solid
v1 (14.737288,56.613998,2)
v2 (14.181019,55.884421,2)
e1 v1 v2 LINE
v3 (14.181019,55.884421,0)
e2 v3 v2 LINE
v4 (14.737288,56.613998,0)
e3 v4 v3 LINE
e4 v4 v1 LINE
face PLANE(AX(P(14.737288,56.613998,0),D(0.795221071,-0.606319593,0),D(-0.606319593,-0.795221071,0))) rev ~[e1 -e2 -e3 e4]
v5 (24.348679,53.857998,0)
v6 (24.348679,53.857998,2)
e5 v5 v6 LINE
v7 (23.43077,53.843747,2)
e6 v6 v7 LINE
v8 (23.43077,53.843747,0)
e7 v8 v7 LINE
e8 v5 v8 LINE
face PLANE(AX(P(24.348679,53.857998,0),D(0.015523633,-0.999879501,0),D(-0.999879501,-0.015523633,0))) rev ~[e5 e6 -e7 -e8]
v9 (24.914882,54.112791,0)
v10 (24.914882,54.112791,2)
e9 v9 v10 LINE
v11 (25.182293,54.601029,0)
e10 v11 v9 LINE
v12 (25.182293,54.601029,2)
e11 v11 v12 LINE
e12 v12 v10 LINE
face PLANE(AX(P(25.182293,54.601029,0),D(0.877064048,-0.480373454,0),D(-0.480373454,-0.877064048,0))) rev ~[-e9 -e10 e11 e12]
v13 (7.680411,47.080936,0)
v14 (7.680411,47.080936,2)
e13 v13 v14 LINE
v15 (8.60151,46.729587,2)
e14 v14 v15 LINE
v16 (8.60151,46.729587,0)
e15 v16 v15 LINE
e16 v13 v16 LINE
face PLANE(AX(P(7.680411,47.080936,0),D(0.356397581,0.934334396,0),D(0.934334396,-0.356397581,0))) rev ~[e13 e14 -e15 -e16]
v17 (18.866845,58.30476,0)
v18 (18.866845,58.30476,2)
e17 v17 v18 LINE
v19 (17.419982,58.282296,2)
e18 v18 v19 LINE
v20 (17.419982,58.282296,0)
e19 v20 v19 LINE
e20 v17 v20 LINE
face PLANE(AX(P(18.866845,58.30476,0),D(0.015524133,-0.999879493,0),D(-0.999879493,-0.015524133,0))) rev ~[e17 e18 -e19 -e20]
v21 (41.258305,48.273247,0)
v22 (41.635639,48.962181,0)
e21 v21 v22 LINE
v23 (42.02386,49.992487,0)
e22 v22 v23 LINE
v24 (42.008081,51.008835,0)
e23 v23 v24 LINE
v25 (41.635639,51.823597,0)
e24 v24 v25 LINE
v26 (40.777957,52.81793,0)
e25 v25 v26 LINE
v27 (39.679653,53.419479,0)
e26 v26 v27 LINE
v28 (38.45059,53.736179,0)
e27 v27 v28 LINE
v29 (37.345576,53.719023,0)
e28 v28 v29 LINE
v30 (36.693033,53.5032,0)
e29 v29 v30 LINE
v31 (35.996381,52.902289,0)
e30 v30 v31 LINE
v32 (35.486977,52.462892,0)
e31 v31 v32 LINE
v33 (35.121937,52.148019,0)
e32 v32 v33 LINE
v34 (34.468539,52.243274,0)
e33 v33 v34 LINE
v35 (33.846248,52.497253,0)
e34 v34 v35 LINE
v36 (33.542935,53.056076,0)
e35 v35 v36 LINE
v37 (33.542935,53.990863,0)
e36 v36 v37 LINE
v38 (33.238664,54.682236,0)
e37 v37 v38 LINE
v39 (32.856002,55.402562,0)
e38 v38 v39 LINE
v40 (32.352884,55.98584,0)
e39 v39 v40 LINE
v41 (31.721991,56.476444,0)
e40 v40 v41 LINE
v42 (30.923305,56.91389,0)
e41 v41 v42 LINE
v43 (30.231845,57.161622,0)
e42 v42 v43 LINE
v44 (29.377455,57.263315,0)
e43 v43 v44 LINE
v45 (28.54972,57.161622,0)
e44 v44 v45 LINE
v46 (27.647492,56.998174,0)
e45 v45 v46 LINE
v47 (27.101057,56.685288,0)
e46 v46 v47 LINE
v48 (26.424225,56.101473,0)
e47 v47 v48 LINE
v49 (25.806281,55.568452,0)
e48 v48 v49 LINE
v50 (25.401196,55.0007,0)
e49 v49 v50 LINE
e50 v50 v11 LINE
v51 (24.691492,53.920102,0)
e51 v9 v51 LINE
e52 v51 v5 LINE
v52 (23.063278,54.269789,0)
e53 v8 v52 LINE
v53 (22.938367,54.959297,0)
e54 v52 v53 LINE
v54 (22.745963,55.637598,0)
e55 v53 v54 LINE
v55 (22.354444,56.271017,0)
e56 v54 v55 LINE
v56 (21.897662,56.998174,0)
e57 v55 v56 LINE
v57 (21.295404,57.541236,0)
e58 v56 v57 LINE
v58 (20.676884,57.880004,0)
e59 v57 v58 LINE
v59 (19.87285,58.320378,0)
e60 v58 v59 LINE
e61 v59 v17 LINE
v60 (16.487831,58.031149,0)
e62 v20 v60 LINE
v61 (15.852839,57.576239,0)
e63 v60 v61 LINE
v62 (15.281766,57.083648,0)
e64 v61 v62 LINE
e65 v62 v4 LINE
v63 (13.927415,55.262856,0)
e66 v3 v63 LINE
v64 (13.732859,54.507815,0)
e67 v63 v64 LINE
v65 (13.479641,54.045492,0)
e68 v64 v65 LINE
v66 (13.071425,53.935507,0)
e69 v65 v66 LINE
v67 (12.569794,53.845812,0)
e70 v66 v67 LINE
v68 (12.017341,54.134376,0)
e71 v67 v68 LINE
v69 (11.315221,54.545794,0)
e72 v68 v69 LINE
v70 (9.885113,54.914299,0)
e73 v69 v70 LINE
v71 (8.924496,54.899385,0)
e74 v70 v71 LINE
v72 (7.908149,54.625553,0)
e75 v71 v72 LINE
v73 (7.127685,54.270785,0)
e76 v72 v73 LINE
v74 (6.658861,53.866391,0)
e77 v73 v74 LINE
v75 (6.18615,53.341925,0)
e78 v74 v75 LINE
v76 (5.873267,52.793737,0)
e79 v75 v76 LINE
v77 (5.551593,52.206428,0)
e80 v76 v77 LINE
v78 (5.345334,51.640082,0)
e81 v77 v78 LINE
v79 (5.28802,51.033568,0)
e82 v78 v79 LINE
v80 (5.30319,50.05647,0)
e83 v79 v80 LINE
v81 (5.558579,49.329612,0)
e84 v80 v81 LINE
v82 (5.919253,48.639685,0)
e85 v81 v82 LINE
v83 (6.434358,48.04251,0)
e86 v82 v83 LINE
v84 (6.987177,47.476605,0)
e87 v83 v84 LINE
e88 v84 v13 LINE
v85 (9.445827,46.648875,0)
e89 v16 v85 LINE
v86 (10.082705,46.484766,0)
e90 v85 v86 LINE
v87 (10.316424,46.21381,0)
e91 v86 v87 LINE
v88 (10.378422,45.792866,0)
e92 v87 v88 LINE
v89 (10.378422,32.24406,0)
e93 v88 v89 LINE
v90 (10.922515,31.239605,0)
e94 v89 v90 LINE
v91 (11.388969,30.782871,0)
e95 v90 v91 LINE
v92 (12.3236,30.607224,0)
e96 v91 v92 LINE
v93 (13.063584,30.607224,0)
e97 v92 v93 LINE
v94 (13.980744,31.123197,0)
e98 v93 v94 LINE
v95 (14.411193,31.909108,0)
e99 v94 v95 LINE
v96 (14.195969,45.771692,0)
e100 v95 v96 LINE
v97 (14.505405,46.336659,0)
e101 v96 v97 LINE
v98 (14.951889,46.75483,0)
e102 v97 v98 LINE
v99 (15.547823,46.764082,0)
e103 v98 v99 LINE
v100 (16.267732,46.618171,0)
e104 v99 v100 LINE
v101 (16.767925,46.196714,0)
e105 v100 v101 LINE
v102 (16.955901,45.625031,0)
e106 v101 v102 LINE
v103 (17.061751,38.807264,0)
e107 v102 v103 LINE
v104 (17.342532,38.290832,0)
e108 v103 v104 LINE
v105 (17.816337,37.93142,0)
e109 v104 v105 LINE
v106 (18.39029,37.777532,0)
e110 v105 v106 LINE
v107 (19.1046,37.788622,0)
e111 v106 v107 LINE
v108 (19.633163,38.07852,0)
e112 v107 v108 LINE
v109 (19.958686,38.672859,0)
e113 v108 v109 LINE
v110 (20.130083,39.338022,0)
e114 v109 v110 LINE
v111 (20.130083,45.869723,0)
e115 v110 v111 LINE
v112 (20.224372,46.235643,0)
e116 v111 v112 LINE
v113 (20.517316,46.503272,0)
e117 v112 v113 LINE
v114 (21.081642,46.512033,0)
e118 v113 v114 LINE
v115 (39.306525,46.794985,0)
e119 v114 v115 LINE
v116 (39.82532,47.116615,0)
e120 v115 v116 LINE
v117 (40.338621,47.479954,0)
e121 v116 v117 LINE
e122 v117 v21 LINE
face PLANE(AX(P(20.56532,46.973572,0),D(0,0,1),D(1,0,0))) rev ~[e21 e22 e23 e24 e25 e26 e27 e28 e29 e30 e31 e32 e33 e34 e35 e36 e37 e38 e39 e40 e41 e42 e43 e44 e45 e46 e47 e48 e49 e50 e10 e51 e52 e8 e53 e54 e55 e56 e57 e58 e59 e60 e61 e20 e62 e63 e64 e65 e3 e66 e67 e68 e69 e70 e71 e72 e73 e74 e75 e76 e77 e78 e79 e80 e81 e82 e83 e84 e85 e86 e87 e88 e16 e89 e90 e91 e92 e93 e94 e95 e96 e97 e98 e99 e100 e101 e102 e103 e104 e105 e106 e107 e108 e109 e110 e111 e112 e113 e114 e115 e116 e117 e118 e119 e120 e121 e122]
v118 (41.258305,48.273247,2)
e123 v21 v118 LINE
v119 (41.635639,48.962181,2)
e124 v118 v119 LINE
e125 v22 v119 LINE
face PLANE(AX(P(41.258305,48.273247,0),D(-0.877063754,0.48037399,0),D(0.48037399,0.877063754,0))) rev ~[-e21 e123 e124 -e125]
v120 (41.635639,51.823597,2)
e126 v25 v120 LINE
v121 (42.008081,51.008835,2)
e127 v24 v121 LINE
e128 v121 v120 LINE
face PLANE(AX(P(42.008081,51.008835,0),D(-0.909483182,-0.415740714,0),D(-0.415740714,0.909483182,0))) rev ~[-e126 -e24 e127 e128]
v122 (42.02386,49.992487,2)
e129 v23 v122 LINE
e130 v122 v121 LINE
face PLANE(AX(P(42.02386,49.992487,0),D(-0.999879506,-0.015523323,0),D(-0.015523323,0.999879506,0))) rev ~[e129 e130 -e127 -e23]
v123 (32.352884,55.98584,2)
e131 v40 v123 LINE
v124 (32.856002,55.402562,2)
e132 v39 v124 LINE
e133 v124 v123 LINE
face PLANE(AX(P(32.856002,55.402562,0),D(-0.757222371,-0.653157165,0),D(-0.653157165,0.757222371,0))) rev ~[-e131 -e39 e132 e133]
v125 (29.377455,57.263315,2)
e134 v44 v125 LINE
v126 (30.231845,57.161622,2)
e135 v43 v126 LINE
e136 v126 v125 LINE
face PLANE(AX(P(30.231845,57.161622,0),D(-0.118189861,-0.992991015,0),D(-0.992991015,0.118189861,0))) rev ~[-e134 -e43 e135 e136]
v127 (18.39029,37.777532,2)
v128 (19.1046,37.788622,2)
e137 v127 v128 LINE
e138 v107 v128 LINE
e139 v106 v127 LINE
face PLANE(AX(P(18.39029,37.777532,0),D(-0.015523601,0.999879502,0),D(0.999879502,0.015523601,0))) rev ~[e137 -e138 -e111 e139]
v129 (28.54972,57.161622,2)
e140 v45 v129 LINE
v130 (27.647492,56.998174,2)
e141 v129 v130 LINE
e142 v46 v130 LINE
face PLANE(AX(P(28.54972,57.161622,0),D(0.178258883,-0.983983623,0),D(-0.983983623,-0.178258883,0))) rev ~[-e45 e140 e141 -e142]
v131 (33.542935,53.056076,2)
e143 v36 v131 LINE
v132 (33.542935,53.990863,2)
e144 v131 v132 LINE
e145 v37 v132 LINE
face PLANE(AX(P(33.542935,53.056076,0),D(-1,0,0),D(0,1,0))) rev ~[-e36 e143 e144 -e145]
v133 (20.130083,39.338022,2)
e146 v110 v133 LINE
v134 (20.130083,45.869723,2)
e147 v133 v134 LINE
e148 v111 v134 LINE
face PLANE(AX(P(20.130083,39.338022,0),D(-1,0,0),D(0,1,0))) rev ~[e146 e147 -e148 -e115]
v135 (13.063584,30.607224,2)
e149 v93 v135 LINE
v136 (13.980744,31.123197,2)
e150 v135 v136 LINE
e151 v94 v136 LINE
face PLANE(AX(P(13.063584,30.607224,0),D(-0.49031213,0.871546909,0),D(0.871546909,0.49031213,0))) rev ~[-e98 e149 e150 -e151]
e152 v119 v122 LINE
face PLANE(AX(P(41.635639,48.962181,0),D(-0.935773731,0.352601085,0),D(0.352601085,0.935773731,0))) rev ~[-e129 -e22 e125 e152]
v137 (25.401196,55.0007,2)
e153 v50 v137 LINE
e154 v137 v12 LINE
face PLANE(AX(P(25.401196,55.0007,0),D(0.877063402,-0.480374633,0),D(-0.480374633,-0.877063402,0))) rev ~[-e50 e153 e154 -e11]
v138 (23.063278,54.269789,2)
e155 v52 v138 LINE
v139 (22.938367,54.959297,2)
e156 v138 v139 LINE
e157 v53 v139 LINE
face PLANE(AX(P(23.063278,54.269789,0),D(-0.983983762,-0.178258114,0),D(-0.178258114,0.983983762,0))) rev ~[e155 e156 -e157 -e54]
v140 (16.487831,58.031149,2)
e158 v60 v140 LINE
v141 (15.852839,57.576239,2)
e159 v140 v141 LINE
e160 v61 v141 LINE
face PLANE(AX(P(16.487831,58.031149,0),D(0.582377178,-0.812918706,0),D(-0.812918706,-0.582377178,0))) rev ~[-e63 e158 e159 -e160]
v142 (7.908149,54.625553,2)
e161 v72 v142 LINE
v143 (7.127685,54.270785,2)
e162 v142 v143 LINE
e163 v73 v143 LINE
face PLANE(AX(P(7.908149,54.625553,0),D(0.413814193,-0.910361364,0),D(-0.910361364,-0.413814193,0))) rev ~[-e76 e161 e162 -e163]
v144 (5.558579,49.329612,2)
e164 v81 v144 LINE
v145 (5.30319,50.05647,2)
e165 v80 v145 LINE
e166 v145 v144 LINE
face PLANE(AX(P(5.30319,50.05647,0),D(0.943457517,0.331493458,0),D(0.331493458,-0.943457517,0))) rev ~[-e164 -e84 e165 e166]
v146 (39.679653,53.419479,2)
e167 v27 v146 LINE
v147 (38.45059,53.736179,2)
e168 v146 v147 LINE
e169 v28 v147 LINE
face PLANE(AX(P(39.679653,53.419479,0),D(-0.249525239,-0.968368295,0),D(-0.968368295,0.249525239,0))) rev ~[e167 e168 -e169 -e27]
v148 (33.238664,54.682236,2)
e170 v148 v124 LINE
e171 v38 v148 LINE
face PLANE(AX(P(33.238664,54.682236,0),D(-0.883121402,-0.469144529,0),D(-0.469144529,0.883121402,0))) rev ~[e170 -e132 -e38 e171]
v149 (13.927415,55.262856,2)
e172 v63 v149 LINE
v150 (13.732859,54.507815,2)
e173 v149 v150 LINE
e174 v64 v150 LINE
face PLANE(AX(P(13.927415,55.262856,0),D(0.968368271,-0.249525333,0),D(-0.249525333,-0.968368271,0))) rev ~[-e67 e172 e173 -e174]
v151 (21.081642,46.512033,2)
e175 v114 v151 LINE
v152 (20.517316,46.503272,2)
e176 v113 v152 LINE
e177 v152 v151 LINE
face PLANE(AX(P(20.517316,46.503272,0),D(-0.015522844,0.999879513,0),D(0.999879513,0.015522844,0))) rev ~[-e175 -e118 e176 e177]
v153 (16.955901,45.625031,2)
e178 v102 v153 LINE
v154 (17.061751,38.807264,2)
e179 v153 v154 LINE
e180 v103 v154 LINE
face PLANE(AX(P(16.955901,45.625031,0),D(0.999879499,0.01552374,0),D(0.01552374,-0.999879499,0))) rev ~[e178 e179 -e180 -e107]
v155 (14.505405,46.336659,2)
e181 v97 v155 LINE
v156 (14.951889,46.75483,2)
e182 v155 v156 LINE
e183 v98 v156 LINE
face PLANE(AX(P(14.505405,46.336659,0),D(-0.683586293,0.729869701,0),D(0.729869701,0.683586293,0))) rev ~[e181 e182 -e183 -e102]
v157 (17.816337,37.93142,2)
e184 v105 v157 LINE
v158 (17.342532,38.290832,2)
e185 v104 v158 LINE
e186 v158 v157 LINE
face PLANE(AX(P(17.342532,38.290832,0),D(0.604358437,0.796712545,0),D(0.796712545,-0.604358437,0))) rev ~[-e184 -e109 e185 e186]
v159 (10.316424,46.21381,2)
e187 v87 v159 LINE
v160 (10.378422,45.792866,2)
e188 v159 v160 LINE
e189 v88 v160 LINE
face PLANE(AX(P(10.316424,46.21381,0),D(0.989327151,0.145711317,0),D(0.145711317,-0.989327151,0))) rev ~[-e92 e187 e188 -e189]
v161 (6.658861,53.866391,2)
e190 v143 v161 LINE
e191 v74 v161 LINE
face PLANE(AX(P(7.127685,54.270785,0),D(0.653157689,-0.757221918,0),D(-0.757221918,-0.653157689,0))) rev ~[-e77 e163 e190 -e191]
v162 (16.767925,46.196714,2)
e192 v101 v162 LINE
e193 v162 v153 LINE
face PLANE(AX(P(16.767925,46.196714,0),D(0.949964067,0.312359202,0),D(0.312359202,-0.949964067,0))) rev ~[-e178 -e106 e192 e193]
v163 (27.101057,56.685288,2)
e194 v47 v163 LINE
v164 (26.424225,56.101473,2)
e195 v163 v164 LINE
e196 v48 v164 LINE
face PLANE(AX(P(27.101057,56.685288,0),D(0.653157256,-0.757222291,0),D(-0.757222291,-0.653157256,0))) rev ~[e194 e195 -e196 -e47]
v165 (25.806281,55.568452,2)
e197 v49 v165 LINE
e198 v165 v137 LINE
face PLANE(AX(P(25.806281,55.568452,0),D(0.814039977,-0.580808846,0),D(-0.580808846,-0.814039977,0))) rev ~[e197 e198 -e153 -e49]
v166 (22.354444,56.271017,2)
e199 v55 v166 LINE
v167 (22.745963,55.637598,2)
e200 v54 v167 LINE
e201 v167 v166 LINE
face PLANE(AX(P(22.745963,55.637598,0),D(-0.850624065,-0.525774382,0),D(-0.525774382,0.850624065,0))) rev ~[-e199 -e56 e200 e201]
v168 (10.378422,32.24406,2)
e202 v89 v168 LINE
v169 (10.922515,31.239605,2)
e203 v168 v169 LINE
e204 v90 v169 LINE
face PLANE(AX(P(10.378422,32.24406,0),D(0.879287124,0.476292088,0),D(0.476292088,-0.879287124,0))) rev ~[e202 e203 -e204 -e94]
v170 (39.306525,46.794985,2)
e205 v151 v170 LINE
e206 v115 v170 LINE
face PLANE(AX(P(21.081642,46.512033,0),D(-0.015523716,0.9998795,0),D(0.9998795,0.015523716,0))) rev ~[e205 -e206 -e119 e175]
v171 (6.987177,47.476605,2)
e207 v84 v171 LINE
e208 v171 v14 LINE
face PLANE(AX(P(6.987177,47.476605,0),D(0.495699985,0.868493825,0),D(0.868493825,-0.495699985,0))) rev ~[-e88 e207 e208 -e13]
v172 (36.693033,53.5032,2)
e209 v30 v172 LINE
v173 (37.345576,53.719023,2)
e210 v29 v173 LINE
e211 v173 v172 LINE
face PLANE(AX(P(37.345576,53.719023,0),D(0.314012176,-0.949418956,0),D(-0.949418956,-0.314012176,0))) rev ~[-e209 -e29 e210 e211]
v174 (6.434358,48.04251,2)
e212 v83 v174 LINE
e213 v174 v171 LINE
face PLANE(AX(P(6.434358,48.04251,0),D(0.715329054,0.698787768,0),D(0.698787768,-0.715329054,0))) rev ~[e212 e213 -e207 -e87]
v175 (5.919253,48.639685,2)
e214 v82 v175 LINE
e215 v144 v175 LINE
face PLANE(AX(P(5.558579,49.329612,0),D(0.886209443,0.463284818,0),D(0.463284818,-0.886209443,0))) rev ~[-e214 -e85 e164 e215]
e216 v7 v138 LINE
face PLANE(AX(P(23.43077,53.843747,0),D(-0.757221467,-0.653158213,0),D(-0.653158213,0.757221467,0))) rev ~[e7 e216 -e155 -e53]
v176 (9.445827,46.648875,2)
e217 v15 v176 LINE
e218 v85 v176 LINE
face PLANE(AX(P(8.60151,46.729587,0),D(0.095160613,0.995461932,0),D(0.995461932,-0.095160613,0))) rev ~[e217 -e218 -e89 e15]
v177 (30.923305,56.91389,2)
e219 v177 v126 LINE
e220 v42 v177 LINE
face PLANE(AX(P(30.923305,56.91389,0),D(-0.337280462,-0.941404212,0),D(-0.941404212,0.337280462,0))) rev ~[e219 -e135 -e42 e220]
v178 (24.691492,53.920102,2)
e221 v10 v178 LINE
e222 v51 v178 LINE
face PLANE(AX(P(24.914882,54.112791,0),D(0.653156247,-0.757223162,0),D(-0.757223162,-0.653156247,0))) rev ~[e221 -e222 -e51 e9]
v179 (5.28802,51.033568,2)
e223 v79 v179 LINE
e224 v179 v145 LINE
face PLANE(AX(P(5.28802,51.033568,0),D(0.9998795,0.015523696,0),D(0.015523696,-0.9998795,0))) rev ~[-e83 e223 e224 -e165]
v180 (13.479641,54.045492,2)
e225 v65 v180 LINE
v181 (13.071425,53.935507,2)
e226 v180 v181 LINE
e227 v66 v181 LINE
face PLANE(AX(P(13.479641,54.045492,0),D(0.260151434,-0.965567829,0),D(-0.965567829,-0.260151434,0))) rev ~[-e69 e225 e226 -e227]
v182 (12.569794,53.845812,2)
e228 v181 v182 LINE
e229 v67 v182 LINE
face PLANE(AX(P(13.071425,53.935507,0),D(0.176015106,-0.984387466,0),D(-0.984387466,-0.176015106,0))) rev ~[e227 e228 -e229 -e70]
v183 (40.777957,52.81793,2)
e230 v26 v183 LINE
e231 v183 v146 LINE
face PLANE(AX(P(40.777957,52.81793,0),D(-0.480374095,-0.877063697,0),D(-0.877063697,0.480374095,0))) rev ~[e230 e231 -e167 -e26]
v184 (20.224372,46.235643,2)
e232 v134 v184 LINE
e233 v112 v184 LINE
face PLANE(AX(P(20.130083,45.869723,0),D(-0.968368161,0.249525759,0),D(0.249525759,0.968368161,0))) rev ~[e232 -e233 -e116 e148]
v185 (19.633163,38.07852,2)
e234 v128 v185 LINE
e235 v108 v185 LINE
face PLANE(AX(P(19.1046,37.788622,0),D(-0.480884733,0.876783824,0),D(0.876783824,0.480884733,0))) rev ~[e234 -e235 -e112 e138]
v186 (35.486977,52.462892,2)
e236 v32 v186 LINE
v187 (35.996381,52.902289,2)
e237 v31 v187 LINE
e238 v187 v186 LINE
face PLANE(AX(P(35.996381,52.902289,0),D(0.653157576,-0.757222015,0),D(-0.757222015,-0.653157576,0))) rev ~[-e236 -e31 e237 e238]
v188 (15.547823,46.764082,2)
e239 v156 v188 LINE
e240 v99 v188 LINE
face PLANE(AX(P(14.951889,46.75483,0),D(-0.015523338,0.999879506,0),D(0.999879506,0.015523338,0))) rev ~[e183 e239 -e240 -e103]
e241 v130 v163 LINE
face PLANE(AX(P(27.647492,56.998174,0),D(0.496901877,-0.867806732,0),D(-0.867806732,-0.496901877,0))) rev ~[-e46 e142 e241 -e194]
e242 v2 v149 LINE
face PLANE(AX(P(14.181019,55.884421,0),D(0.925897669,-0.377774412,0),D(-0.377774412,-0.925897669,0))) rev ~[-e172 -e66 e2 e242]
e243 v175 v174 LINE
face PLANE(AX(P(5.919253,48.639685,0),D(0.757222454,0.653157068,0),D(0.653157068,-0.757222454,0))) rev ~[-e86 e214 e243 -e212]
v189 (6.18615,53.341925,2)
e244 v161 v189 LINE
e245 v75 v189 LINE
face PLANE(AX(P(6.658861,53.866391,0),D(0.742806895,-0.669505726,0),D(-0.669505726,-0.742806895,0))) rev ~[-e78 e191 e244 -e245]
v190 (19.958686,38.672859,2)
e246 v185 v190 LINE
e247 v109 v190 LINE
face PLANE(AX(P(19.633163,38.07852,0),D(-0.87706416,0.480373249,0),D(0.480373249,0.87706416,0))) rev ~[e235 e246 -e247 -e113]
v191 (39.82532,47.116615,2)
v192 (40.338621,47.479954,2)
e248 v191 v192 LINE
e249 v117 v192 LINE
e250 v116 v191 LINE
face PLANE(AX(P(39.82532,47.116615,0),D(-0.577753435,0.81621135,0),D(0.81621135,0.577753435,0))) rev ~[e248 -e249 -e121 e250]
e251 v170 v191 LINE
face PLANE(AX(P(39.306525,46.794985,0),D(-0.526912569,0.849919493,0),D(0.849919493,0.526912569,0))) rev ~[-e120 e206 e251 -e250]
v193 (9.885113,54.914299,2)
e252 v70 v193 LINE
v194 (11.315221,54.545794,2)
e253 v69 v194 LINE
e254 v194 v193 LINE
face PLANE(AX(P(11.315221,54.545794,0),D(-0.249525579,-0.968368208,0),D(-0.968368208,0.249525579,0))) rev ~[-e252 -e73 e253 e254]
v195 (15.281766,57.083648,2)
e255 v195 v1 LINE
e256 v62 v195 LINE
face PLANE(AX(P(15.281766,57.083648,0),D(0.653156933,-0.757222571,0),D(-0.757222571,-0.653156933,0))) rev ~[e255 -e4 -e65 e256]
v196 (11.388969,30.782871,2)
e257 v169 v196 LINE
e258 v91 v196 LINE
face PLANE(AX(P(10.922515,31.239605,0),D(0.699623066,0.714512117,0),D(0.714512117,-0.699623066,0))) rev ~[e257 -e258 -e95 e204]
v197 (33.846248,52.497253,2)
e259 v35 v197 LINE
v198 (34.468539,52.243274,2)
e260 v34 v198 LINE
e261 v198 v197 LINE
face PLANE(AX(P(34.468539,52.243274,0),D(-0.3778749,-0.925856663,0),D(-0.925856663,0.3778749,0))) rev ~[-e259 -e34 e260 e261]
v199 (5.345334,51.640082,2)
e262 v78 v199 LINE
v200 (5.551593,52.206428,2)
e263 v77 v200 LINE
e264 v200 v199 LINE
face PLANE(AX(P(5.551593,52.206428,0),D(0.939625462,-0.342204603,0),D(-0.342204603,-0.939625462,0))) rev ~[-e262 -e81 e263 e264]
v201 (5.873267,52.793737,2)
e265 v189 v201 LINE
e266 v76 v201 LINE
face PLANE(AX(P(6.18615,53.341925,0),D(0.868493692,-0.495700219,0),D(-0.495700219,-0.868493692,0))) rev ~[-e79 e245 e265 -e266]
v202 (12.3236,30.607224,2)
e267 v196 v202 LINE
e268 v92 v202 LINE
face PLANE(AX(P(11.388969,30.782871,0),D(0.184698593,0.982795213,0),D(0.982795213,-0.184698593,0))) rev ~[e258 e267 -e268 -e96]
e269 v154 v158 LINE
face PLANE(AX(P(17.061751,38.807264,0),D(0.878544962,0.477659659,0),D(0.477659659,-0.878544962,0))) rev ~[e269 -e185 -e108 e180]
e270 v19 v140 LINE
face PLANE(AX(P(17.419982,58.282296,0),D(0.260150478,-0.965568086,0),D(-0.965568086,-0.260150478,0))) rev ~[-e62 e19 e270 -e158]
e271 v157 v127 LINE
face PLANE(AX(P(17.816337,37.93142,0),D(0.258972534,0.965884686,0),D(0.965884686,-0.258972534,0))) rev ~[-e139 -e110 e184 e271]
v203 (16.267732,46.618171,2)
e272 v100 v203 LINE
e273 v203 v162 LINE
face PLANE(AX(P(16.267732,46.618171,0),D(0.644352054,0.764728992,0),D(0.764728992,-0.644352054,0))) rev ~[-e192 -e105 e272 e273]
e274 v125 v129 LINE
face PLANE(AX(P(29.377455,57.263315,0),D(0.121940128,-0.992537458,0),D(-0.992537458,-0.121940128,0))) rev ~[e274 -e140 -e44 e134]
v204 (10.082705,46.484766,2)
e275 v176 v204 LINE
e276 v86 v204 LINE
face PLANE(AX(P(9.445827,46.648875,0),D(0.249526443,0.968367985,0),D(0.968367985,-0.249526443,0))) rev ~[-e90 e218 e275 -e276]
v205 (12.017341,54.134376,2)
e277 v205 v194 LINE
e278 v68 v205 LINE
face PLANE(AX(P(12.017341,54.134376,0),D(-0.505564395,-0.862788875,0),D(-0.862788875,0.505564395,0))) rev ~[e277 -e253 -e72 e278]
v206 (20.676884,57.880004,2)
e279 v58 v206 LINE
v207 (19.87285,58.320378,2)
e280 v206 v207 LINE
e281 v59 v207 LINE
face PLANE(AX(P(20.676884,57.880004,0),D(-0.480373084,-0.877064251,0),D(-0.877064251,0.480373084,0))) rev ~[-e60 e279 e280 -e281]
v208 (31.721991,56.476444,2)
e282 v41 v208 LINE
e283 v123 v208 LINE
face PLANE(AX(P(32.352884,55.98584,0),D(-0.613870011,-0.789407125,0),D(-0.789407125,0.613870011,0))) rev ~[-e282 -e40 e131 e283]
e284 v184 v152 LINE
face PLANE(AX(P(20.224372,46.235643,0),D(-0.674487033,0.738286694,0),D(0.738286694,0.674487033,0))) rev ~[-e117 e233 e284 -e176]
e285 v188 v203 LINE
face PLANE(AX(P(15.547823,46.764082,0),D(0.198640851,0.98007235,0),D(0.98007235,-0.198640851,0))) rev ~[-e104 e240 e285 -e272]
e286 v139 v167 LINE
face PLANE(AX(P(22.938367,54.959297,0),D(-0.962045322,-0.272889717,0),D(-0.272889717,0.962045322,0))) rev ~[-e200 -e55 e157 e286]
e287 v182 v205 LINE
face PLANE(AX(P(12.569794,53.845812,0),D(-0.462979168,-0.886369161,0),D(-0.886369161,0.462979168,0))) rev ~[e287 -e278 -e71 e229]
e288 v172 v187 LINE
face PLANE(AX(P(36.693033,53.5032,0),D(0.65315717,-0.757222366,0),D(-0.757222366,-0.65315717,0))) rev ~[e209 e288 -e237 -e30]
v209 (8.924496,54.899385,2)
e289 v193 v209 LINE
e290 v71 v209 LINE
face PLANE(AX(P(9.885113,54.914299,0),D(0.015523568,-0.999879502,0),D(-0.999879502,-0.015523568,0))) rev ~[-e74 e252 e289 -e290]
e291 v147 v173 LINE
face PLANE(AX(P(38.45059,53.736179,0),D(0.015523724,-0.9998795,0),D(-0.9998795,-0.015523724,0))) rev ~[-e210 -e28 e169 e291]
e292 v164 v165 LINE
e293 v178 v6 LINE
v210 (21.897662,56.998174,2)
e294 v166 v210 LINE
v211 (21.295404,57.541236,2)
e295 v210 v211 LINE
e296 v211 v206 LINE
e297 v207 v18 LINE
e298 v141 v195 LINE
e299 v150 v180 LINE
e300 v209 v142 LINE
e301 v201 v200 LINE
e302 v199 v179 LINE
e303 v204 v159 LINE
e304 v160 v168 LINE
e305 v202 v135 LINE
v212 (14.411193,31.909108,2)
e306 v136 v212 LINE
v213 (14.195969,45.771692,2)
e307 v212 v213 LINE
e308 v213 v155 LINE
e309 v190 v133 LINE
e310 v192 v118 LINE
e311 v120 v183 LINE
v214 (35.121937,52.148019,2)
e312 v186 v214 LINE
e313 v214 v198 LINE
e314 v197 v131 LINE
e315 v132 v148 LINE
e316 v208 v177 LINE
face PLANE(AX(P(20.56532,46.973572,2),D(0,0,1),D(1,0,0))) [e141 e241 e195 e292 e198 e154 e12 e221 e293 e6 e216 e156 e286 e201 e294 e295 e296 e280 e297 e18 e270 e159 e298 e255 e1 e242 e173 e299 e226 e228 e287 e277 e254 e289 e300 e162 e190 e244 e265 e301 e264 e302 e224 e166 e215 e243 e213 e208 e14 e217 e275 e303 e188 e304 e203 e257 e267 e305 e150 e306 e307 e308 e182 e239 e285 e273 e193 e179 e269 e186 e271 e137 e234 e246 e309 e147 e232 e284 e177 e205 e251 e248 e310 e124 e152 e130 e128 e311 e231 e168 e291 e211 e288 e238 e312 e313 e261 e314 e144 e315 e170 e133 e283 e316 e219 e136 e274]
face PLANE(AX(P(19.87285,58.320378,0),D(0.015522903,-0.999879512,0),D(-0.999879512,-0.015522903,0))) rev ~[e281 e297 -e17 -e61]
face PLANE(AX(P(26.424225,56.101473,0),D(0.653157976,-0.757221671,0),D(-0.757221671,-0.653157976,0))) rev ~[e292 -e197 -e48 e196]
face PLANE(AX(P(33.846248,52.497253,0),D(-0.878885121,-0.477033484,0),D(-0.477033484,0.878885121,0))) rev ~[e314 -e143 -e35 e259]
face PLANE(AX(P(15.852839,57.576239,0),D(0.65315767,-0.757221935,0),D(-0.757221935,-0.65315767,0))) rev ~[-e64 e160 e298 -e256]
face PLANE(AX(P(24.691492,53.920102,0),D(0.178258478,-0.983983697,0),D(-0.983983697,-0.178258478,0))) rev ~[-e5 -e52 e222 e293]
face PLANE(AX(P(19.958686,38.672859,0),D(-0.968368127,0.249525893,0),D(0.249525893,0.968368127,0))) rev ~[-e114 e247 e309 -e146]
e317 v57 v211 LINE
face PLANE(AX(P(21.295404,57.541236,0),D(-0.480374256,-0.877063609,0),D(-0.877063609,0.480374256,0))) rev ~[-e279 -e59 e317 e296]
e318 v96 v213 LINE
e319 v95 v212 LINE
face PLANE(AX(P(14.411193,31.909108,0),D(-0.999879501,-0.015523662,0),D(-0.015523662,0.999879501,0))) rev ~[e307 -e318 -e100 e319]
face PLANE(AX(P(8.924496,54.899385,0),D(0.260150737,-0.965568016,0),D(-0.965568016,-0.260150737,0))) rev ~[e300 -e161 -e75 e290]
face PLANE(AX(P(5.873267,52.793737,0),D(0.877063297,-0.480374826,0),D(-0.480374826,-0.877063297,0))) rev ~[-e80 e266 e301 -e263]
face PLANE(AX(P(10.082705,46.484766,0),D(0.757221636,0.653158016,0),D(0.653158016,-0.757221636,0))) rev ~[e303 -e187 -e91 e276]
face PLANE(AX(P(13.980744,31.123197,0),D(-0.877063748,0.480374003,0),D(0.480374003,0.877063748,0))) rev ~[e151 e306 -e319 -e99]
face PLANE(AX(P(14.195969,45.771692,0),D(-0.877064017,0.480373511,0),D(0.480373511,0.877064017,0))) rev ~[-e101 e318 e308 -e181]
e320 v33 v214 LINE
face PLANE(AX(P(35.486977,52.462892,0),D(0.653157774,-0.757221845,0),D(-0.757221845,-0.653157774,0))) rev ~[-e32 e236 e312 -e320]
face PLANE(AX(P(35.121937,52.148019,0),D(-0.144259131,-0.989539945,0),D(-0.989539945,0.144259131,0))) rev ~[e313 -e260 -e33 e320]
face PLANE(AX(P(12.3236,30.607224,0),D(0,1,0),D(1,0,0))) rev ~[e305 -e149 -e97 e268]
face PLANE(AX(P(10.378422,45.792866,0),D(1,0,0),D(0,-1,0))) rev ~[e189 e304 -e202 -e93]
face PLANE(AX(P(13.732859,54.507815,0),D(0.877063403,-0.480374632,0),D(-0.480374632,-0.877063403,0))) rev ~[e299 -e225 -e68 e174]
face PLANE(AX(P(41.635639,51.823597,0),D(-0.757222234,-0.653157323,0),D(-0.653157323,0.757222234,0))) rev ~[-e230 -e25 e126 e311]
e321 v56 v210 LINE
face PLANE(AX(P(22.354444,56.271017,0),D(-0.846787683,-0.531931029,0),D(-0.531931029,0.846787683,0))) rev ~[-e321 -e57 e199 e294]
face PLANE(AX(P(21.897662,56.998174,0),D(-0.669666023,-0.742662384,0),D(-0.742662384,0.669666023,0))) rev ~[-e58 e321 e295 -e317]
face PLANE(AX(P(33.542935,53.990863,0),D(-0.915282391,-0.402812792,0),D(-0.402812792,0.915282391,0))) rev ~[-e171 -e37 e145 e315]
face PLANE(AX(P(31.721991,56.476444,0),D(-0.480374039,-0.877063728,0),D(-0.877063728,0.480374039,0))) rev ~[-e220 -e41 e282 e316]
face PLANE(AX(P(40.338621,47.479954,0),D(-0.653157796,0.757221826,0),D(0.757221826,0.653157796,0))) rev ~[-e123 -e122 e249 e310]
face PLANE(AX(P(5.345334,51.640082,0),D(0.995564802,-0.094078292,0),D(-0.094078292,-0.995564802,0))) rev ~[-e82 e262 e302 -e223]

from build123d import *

# Parameters (mm, degrees)
F1_DEPTH = 2


with BuildPart() as f1:
    # F0 (on Top) → F1 (new body)
    with BuildSketch(Plane.XY):
        Polygon((10.316424, 46.21381), (10.378422, 45.792866), (10.378422, 32.24406), (10.922515, 31.239605), (11.388969, 30.782871), (12.3236, 30.607224), (13.063584, 30.607224), (13.980744, 31.123197), (14.411193, 31.909108), (14.195969, 45.771692), (14.505405, 46.336659), (14.951889, 46.75483), (15.547823, 46.764082), (16.267732, 46.618171), (16.767925, 46.196714), (16.955901, 45.625031), (17.061751, 38.807264), (17.342532, 38.290832), (17.816337, 37.93142), (18.39029, 37.777532), (19.1046, 37.788622), (19.633163, 38.07852), (19.958686, 38.672859), (20.130083, 39.338022), (20.130083, 45.869723), (20.224372, 46.235643), (20.517316, 46.503272), (21.081642, 46.512033), (39.306525, 46.794985), (39.82532, 47.116615), (40.338621, 47.479954), (41.258305, 48.273247), (41.635639, 48.962181), (42.02386, 49.992487), (42.008081, 51.008835), (41.635639, 51.823597), (40.777957, 52.81793), (39.679653, 53.419479), (38.45059, 53.736179), (37.345576, 53.719023), (36.693033, 53.5032), (35.996381, 52.902289), (35.486977, 52.462892), (35.121937, 52.148019), (34.468539, 52.243274), (33.846248, 52.497253), (33.542935, 53.056076), (33.542935, 53.990863), (33.238664, 54.682236), (32.856002, 55.402562), (32.352884, 55.98584), (31.721991, 56.476444), (30.923305, 56.91389), (30.231845, 57.161622), (29.377455, 57.263315), (28.54972, 57.161622), (27.647492, 56.998174), (27.101057, 56.685288), (26.424225, 56.101473), (25.806281, 55.568452), (25.401196, 55.0007), (25.182293, 54.601029), (24.914882, 54.112791), (24.691492, 53.920102), (24.348679, 53.857998), (23.43077, 53.843747), (23.063278, 54.269789), (22.938367, 54.959297), (22.745963, 55.637598), (22.354444, 56.271017), (21.897662, 56.998174), (21.295404, 57.541236), (20.676884, 57.880004), (19.87285, 58.320378), (18.866845, 58.30476), (17.419982, 58.282296), (16.487831, 58.031149), (15.852839, 57.576239), (15.281766, 57.083648), (14.737288, 56.613998), (14.181019, 55.884421), (13.927415, 55.262856), (13.732859, 54.507815), (13.479641, 54.045492), (13.071425, 53.935507), (12.569794, 53.845812), (12.017341, 54.134376), (11.315221, 54.545794), (9.885113, 54.914299), (8.924496, 54.899385), (7.908149, 54.625553), (7.127685, 54.270785), (6.658861, 53.866391), (6.18615, 53.341925), (5.873267, 52.793737), (5.551593, 52.206428), (5.345334, 51.640082), (5.28802, 51.033568), (5.30319, 50.05647), (5.558579, 49.329612), (5.919253, 48.639685), (6.434358, 48.04251), (6.987177, 47.476605), (7.680411, 47.080936), (8.60151, 46.729587), (9.445827, 46.648875), (10.082705, 46.484766), align=None)
    extrude(amount=F1_DEPTH)


solid = f1.part
